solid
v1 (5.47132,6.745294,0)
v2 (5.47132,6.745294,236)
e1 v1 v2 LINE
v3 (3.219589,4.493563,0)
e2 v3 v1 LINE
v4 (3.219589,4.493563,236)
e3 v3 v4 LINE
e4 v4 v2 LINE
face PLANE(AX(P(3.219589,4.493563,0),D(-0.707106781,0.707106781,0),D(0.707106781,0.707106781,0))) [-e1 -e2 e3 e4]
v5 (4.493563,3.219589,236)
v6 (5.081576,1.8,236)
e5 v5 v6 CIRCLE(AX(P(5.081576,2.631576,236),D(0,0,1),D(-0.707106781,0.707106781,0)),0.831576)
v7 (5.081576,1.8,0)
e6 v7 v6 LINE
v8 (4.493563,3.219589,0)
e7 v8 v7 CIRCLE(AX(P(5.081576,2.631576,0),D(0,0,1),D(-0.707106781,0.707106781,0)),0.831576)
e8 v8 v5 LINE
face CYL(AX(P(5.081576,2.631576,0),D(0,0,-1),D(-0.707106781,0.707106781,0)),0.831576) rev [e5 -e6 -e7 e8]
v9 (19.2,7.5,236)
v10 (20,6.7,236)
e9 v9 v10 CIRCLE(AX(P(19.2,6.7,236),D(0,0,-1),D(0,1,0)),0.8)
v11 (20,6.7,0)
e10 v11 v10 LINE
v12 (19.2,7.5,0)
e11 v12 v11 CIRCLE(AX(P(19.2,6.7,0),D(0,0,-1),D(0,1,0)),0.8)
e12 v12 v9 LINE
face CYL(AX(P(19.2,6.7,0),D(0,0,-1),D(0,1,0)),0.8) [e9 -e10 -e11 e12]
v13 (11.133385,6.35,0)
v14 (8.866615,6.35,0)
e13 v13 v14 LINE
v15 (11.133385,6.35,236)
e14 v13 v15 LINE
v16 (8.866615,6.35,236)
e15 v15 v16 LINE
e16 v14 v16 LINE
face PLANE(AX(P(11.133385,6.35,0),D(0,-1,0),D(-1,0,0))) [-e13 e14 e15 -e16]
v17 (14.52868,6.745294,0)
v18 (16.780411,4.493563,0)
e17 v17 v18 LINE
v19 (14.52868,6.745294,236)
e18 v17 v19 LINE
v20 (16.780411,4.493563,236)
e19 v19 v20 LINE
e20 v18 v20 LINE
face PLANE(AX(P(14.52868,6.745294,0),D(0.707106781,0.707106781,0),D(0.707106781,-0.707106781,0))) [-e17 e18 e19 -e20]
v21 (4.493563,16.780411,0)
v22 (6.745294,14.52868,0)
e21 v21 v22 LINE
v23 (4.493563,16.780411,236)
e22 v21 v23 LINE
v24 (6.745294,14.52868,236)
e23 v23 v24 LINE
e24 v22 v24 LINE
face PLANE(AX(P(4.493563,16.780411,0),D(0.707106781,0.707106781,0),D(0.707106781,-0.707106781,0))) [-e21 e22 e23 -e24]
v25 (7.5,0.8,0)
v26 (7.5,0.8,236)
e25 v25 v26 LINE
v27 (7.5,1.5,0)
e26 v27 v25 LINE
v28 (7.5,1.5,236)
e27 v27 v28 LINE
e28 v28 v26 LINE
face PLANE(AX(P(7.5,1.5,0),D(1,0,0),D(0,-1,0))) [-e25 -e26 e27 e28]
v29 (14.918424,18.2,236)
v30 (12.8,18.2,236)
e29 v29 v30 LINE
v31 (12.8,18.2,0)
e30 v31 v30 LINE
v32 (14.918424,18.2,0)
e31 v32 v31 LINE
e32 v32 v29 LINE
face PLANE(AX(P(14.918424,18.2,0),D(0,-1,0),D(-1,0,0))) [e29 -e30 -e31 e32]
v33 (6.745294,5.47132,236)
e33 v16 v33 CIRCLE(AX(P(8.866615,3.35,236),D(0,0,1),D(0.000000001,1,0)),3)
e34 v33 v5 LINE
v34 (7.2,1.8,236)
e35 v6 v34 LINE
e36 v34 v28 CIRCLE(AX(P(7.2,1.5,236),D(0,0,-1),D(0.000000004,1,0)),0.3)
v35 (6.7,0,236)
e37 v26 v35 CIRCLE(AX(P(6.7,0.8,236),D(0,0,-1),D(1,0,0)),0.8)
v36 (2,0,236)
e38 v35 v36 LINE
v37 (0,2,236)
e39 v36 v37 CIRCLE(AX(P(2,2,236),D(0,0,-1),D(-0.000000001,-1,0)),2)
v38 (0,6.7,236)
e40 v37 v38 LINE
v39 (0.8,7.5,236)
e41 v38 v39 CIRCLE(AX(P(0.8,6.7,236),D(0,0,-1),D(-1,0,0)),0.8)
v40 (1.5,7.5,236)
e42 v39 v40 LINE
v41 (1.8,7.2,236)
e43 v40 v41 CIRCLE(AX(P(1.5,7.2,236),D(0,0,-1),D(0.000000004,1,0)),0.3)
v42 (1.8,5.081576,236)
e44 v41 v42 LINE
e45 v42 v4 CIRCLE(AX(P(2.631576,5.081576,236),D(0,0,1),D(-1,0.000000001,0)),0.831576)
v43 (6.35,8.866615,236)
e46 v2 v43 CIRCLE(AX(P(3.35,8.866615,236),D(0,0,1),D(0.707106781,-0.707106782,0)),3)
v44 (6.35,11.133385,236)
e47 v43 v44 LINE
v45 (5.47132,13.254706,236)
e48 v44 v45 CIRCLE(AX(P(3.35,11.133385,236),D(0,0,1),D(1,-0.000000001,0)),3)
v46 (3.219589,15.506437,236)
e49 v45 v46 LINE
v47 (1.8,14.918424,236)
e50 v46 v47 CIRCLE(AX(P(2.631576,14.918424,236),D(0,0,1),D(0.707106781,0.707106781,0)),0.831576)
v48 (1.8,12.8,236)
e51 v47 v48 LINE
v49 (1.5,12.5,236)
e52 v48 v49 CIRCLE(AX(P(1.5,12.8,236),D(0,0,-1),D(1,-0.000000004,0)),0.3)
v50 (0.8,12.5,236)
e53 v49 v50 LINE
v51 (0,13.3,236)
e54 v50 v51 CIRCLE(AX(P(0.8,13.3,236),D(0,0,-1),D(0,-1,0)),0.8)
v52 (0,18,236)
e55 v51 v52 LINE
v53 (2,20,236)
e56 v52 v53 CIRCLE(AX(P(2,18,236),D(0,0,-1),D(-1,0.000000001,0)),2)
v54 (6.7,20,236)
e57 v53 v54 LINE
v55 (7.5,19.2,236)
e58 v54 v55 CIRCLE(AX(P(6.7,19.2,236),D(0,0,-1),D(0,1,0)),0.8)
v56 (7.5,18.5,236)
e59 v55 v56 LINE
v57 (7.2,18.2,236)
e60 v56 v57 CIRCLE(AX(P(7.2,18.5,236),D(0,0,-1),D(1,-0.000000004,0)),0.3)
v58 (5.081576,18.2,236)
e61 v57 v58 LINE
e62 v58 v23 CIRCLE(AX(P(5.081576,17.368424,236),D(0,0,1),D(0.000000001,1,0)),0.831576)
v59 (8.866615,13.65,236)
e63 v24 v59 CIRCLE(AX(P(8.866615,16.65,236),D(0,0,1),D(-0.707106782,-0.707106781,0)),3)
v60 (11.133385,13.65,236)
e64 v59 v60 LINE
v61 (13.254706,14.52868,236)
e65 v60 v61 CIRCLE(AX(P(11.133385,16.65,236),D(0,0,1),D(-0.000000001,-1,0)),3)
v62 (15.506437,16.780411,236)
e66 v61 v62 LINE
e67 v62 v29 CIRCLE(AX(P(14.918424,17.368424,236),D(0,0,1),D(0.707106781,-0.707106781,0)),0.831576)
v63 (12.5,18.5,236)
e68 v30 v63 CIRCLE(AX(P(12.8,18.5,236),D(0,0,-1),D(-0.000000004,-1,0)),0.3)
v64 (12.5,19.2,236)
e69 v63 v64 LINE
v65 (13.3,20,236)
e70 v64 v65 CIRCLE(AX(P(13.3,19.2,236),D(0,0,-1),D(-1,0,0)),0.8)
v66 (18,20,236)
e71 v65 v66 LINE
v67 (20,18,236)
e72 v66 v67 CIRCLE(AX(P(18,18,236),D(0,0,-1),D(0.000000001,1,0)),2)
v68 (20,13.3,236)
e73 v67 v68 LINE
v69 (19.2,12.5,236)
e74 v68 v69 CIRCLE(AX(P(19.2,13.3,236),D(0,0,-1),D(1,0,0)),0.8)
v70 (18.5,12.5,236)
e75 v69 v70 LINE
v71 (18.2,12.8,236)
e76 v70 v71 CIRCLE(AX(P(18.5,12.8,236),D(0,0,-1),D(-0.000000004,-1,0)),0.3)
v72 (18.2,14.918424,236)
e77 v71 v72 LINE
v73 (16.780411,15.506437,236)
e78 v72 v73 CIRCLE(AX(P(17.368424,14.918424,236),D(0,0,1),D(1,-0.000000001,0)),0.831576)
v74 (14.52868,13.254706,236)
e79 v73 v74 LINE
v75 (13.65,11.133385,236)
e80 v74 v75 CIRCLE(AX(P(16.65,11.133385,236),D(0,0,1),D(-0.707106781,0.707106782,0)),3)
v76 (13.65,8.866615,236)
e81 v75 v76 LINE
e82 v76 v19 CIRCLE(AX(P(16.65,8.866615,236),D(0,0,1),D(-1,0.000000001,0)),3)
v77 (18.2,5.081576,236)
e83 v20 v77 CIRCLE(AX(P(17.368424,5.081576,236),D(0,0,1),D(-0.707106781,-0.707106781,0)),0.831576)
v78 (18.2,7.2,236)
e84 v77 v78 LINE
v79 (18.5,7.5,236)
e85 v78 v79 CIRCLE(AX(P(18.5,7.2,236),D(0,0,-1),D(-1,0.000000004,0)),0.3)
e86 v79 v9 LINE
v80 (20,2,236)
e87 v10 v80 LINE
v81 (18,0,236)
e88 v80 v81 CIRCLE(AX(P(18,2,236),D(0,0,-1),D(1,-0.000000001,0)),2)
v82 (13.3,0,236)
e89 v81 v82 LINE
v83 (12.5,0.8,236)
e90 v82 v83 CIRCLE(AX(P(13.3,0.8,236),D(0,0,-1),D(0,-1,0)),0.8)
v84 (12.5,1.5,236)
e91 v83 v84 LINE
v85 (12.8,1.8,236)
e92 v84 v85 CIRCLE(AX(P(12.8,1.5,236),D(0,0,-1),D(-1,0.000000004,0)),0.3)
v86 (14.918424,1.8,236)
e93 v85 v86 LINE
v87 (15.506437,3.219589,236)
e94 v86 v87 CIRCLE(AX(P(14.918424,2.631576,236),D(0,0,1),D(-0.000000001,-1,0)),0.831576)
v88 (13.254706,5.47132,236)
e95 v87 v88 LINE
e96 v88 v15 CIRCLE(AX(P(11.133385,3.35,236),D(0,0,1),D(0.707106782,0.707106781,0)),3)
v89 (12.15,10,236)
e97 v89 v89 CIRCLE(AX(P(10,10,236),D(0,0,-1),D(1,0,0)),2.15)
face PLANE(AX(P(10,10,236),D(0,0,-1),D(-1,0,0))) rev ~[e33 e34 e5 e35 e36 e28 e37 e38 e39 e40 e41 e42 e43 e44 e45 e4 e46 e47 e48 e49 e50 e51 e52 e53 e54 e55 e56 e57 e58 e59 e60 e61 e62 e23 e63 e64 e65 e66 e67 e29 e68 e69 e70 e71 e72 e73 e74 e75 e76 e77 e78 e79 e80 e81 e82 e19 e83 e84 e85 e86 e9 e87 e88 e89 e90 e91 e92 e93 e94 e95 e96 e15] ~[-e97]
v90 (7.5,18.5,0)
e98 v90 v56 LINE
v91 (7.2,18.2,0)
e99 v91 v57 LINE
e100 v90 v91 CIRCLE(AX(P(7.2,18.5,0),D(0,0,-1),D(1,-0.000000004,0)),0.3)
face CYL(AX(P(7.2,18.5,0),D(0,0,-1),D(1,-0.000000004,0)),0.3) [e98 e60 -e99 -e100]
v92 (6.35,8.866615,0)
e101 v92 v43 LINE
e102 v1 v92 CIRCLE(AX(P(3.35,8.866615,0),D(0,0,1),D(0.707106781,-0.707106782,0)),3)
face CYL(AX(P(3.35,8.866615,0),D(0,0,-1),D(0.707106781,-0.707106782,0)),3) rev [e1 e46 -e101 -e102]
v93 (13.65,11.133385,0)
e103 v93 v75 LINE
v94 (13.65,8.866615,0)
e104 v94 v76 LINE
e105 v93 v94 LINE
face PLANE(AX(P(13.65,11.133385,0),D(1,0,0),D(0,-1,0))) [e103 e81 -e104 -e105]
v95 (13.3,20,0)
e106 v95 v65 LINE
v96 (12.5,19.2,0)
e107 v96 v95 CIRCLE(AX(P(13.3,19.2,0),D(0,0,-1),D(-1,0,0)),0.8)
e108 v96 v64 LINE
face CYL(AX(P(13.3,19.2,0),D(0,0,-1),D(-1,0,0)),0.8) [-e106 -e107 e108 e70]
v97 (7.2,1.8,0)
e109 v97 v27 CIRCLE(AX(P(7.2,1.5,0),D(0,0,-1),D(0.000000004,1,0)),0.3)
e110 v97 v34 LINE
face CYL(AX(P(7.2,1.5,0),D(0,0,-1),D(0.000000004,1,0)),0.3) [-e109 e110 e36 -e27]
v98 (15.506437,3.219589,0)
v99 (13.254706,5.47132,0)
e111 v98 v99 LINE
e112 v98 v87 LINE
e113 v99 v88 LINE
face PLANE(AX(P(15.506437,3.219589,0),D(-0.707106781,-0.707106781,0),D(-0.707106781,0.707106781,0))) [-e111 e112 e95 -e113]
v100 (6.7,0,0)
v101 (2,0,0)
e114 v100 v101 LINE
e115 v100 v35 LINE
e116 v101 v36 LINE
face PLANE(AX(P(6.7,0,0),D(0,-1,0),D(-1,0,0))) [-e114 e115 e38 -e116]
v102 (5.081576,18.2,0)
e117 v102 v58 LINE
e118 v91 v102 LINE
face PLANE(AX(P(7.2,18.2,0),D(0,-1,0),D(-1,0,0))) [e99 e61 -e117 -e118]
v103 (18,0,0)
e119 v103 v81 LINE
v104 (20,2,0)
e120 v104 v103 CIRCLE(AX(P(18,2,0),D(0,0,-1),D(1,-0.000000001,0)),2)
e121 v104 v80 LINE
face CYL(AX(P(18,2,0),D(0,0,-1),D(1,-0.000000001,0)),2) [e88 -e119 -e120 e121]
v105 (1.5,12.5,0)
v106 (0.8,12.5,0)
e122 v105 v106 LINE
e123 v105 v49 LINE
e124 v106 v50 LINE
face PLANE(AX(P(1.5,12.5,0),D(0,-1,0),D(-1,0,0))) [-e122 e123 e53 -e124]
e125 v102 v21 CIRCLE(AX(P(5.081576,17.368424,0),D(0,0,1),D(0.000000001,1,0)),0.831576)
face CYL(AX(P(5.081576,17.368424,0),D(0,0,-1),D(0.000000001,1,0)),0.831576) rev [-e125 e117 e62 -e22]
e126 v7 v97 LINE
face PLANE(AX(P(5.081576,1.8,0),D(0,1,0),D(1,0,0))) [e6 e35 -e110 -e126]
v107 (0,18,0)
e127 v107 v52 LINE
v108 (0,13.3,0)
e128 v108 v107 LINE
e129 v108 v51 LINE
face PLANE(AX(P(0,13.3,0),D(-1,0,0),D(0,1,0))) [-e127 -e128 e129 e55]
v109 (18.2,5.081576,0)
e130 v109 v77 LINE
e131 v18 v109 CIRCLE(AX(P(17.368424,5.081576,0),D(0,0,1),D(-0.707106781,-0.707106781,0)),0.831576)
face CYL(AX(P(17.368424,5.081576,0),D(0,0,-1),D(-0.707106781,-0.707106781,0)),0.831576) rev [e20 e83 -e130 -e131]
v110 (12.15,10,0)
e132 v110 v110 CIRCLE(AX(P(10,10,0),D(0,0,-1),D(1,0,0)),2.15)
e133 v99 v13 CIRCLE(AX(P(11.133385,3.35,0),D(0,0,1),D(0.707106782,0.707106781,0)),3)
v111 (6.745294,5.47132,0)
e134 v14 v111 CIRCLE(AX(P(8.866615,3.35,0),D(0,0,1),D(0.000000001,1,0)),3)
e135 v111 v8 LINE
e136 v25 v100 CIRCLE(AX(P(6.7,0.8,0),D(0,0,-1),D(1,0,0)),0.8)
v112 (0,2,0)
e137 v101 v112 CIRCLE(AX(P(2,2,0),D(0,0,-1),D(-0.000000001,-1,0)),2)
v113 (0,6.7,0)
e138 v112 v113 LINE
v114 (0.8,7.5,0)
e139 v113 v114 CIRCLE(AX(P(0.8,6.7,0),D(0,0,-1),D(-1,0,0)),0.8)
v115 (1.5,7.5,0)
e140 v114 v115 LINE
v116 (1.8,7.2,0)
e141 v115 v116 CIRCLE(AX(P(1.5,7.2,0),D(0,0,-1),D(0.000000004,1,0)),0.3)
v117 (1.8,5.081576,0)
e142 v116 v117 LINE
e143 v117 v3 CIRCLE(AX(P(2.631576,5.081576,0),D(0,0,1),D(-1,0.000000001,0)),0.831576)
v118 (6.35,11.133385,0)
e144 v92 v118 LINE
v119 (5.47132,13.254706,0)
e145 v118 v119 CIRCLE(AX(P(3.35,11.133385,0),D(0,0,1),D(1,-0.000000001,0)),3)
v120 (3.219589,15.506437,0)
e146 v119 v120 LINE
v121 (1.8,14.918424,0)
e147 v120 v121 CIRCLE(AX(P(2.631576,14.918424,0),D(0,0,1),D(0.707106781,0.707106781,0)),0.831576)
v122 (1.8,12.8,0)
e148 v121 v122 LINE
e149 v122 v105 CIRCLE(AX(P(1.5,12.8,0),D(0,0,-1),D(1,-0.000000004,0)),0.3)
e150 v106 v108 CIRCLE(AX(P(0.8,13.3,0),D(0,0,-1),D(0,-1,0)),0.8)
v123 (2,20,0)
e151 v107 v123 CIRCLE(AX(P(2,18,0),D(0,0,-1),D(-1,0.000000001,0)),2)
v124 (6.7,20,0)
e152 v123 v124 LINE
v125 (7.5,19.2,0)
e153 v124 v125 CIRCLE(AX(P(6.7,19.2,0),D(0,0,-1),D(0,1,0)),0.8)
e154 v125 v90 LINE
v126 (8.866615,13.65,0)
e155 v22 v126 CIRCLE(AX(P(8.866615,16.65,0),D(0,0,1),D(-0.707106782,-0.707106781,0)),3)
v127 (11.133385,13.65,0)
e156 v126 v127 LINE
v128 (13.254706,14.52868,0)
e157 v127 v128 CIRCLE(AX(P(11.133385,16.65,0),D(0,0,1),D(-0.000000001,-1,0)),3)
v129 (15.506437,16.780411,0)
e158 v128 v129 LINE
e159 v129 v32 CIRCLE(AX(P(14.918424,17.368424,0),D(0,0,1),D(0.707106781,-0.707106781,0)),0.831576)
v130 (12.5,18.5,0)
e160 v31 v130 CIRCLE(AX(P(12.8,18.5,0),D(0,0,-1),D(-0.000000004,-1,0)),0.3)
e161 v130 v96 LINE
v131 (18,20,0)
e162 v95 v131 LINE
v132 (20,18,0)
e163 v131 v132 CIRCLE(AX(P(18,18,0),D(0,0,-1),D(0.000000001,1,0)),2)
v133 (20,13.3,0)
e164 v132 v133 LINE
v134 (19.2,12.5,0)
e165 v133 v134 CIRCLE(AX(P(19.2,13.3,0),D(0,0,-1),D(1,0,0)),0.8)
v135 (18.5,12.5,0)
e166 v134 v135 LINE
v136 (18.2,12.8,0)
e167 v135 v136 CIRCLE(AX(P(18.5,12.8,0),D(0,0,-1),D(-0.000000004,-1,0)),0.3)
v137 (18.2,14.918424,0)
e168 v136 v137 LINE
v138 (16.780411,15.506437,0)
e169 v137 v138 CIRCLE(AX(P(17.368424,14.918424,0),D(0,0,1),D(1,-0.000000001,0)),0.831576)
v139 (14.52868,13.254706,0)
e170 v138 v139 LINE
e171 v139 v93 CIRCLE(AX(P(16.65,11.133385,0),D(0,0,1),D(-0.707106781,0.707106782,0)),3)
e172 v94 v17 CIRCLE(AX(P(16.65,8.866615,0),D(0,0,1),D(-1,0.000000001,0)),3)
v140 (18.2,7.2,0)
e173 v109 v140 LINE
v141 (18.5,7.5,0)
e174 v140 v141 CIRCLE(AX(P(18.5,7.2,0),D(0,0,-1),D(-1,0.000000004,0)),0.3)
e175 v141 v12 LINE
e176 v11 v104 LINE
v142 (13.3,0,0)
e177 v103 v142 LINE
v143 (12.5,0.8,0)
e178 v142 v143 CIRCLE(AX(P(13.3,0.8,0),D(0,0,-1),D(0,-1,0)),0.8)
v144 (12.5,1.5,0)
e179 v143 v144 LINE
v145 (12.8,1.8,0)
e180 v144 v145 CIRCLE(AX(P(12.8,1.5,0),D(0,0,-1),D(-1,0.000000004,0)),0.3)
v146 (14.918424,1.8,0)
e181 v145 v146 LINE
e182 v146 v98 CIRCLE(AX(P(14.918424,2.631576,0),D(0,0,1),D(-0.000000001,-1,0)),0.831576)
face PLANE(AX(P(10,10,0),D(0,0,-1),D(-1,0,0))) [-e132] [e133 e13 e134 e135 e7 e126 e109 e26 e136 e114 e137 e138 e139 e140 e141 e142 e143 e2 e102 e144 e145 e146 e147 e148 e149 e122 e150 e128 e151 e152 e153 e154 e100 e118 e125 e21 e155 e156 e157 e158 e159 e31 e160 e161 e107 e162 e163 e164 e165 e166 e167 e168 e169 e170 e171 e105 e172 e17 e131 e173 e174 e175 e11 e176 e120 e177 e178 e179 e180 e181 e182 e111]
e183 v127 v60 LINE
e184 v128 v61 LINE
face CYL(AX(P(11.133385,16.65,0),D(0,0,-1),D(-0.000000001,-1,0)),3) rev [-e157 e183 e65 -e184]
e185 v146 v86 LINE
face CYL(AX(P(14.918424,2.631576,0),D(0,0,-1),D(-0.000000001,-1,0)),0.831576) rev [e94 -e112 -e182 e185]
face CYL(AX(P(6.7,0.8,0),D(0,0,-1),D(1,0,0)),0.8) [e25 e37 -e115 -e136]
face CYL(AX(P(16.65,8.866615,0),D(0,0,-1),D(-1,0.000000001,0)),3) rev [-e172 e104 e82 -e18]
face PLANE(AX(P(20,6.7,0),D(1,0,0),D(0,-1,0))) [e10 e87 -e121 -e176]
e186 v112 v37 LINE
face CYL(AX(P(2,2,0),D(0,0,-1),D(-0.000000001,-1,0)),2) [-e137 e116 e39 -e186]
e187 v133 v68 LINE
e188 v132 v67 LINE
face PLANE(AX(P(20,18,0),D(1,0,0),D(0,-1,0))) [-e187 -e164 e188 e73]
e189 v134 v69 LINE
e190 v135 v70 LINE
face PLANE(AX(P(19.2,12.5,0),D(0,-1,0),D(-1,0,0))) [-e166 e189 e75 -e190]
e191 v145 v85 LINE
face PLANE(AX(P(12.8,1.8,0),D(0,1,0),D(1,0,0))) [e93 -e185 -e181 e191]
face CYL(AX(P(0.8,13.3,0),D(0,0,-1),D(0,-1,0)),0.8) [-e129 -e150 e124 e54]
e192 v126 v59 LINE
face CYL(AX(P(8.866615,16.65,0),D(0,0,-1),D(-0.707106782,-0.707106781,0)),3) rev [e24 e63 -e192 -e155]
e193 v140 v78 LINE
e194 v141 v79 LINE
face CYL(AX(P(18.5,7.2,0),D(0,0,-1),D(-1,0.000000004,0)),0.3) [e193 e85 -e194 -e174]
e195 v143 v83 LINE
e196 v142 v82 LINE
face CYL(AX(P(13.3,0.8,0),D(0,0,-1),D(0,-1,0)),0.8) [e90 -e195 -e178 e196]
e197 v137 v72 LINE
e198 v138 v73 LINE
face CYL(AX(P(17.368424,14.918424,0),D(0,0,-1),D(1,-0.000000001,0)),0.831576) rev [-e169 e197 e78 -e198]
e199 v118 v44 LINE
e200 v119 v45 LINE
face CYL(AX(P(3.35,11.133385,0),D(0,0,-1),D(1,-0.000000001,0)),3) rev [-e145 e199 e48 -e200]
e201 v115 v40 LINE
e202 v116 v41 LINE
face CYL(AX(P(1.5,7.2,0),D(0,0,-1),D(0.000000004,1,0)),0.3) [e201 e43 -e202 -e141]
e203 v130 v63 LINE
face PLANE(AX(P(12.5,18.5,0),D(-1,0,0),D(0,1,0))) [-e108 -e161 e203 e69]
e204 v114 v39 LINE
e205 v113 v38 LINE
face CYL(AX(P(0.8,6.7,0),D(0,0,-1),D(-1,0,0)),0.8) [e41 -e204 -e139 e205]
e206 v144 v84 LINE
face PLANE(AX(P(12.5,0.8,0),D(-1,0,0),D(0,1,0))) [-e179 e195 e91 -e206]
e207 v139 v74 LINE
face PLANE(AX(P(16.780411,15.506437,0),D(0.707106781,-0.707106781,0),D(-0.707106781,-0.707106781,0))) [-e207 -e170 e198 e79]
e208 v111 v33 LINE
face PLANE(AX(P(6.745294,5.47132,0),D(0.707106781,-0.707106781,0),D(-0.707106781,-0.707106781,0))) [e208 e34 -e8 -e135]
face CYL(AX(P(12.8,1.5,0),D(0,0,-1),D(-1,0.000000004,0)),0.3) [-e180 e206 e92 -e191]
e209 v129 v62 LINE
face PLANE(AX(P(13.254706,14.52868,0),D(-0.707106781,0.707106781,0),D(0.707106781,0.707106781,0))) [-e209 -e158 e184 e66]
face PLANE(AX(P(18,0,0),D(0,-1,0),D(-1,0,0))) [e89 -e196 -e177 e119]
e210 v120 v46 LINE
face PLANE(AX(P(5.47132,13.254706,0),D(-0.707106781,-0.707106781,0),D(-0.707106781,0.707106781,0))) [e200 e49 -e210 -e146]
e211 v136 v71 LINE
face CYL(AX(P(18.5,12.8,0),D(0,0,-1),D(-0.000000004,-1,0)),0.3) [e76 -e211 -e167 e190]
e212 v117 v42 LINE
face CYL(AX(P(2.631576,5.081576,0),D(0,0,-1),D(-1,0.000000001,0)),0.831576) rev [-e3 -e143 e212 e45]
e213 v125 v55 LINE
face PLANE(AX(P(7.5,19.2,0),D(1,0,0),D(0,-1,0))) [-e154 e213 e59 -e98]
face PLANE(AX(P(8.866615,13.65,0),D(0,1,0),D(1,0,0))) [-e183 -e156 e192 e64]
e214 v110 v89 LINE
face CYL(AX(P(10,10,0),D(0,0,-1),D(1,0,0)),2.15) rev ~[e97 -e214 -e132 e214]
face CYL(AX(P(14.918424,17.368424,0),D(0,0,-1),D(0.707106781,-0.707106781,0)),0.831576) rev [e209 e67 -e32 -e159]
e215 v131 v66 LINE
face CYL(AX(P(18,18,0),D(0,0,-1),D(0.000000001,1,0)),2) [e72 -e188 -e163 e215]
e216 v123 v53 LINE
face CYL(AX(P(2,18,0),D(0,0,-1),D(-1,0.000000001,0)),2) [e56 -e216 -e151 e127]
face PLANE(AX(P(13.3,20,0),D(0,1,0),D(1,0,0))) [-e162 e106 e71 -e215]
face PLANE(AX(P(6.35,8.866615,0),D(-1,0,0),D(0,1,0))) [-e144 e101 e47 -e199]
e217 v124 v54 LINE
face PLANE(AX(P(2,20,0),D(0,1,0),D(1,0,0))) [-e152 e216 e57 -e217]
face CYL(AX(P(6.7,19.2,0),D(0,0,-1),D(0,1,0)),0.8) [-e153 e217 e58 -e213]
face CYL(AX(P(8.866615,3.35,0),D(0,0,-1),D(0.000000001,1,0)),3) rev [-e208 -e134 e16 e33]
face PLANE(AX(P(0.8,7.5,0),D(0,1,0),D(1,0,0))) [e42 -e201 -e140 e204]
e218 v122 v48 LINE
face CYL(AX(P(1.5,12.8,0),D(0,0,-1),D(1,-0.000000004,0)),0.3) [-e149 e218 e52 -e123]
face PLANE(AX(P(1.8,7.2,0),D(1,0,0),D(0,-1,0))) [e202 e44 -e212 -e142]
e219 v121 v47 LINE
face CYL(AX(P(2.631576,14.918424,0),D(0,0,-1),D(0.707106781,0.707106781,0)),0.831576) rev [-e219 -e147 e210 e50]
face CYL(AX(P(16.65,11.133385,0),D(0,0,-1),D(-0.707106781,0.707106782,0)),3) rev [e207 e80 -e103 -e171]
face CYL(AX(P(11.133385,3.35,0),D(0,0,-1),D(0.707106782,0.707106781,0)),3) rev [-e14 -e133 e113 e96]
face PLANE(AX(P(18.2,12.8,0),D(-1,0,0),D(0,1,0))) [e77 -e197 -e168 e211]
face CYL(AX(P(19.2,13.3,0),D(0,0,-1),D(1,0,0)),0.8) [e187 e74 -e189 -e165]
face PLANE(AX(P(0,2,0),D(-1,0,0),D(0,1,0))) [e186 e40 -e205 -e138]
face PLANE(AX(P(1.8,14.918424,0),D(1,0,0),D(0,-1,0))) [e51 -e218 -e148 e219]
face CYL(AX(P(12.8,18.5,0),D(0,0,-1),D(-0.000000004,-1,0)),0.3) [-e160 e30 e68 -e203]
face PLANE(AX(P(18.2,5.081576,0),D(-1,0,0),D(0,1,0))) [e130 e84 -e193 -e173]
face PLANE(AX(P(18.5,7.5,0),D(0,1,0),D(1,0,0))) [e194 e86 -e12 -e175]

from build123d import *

# Parameters (mm, degrees)
ESQUISSE1_R      = 2.15
EXTRUSION1_DEPTH = 236


with BuildPart() as part:
    # Esquisse1 → Extrusion1 (new body)
    with BuildSketch(Plane(origin=(0, 0, 0), x_dir=(-1, 0, 0), z_dir=(0, 0, -1))):
        with BuildLine():
            Line((-18, 0), (-13.3, 0))
            ThreePointArc((-13.3, 0), (-12.734314575, 0.234314575), (-12.5, 0.8))
            Line((-12.5, 0.8), (-12.5, 1.5))
            ThreePointArc((-12.5, 1.5), (-12.587867966, 1.712132034), (-12.8, 1.8))
            Line((-12.8, 1.8), (-14.918424061, 1.8))
            ThreePointArc((-14.918424061, 1.8), (-15.686700051, 2.313345604), (-15.506437047, 3.219588924))
            Line((-15.506437047, 3.219588924), (-13.254705627, 5.471320344))
            ThreePointArc((-13.254705627, 5.471320344), (-12.281435581, 6.121638598), (-11.133385284, 6.35))
            Line((-11.133385284, 6.35), (-8.866614716, 6.35))
            ThreePointArc((-8.866614716, 6.35), (-7.718564419, 6.121638598), (-6.745294373, 5.471320344))
            Line((-6.745294373, 5.471320344), (-4.493562953, 3.219588924))
            ThreePointArc((-4.493562953, 3.219588924), (-4.313299949, 2.313345604), (-5.081575939, 1.8))
            Line((-5.081575939, 1.8), (-7.2, 1.8))
            ThreePointArc((-7.2, 1.8), (-7.412132034, 1.712132034), (-7.5, 1.5))
            Line((-7.5, 1.5), (-7.5, 0.8))
            ThreePointArc((-7.5, 0.8), (-7.265685425, 0.234314575), (-6.7, 0))
            Line((-6.7, 0), (-2, 0))
            ThreePointArc((-2, 0), (-0.585786438, 0.585786438), (0, 2))
            Line((0, 2), (0, 6.7))
            ThreePointArc((0, 6.7), (-0.234314575, 7.265685425), (-0.8, 7.5))
            Line((-0.8, 7.5), (-1.5, 7.5))
            ThreePointArc((-1.5, 7.5), (-1.712132034, 7.412132034), (-1.8, 7.2))
            Line((-1.8, 7.2), (-1.8, 5.081575939))
            ThreePointArc((-1.8, 5.081575939), (-2.313345604, 4.313299949), (-3.219588924, 4.493562953))
            Line((-3.219588924, 4.493562953), (-5.471320344, 6.745294373))
            ThreePointArc((-5.471320344, 6.745294373), (-6.121638598, 7.718564419), (-6.35, 8.866614716))
            Line((-6.35, 8.866614716), (-6.35, 11.133385284))
            ThreePointArc((-6.35, 11.133385284), (-6.121638598, 12.281435581), (-5.471320344, 13.254705627))
            Line((-5.471320344, 13.254705627), (-3.219588924, 15.506437047))
            ThreePointArc((-3.219588924, 15.506437047), (-2.313345604, 15.686700051), (-1.8, 14.918424061))
            Line((-1.8, 14.918424061), (-1.8, 12.8))
            ThreePointArc((-1.8, 12.8), (-1.712132034, 12.587867966), (-1.5, 12.5))
            Line((-1.5, 12.5), (-0.8, 12.5))
            ThreePointArc((-0.8, 12.5), (-0.234314575, 12.734314575), (0, 13.3))
            Line((0, 13.3), (0, 18))
            ThreePointArc((0, 18), (-0.585786438, 19.414213562), (-2, 20))
            Line((-2, 20), (-6.7, 20))
            ThreePointArc((-6.7, 20), (-7.265685425, 19.765685425), (-7.5, 19.2))
            Line((-7.5, 19.2), (-7.5, 18.5))
            ThreePointArc((-7.5, 18.5), (-7.412132034, 18.287867966), (-7.2, 18.2))
            Line((-7.2, 18.2), (-5.081575939, 18.2))
            ThreePointArc((-5.081575939, 18.2), (-4.313299949, 17.686654396), (-4.493562953, 16.780411076))
            Line((-4.493562953, 16.780411076), (-6.745294373, 14.528679656))
            ThreePointArc((-6.745294373, 14.528679656), (-7.718564419, 13.878361402), (-8.866614716, 13.65))
            Line((-8.866614716, 13.65), (-11.133385284, 13.65))
            ThreePointArc((-11.133385284, 13.65), (-12.281435581, 13.878361402), (-13.254705627, 14.528679656))
            Line((-13.254705627, 14.528679656), (-15.506437047, 16.780411076))
            ThreePointArc((-15.506437047, 16.780411076), (-15.686700051, 17.686654396), (-14.918424061, 18.2))
            Line((-14.918424061, 18.2), (-12.8, 18.2))
            ThreePointArc((-12.8, 18.2), (-12.587867966, 18.287867966), (-12.5, 18.5))
            Line((-12.5, 18.5), (-12.5, 19.2))
            ThreePointArc((-12.5, 19.2), (-12.734314575, 19.765685425), (-13.3, 20))
            Line((-13.3, 20), (-18, 20))
            ThreePointArc((-18, 20), (-19.414213562, 19.414213562), (-20, 18))
            Line((-20, 18), (-20, 13.3))
            ThreePointArc((-20, 13.3), (-19.765685425, 12.734314575), (-19.2, 12.5))
            Line((-19.2, 12.5), (-18.5, 12.5))
            ThreePointArc((-18.5, 12.5), (-18.287867966, 12.587867966), (-18.2, 12.8))
            Line((-18.2, 12.8), (-18.2, 14.918424061))
            ThreePointArc((-18.2, 14.918424061), (-17.686654396, 15.686700051), (-16.780411076, 15.506437047))
            Line((-16.780411076, 15.506437047), (-14.528679656, 13.254705627))
            ThreePointArc((-14.528679656, 13.254705627), (-13.878361402, 12.281435581), (-13.65, 11.133385284))
            Line((-13.65, 11.133385284), (-13.65, 8.866614716))
            ThreePointArc((-13.65, 8.866614716), (-13.878361402, 7.718564419), (-14.528679656, 6.745294373))
            Line((-14.528679656, 6.745294373), (-16.780411076, 4.493562953))
            ThreePointArc((-16.780411076, 4.493562953), (-17.686654396, 4.313299949), (-18.2, 5.081575939))
            Line((-18.2, 5.081575939), (-18.2, 7.2))
            ThreePointArc((-18.2, 7.2), (-18.287867966, 7.412132034), (-18.5, 7.5))
            Line((-18.5, 7.5), (-19.2, 7.5))
            ThreePointArc((-19.2, 7.5), (-19.765685425, 7.265685425), (-20, 6.7))
            Line((-20, 6.7), (-20, 2))
            ThreePointArc((-20, 2), (-19.414213562, 0.585786438), (-18, 0))
        make_face()
        with Locations(Location((-10, 10, 0), (0, 0, 180))):
            Circle(ESQUISSE1_R, mode=Mode.SUBTRACT)
    extrude(amount=-EXTRUSION1_DEPTH)


solid = part.part
